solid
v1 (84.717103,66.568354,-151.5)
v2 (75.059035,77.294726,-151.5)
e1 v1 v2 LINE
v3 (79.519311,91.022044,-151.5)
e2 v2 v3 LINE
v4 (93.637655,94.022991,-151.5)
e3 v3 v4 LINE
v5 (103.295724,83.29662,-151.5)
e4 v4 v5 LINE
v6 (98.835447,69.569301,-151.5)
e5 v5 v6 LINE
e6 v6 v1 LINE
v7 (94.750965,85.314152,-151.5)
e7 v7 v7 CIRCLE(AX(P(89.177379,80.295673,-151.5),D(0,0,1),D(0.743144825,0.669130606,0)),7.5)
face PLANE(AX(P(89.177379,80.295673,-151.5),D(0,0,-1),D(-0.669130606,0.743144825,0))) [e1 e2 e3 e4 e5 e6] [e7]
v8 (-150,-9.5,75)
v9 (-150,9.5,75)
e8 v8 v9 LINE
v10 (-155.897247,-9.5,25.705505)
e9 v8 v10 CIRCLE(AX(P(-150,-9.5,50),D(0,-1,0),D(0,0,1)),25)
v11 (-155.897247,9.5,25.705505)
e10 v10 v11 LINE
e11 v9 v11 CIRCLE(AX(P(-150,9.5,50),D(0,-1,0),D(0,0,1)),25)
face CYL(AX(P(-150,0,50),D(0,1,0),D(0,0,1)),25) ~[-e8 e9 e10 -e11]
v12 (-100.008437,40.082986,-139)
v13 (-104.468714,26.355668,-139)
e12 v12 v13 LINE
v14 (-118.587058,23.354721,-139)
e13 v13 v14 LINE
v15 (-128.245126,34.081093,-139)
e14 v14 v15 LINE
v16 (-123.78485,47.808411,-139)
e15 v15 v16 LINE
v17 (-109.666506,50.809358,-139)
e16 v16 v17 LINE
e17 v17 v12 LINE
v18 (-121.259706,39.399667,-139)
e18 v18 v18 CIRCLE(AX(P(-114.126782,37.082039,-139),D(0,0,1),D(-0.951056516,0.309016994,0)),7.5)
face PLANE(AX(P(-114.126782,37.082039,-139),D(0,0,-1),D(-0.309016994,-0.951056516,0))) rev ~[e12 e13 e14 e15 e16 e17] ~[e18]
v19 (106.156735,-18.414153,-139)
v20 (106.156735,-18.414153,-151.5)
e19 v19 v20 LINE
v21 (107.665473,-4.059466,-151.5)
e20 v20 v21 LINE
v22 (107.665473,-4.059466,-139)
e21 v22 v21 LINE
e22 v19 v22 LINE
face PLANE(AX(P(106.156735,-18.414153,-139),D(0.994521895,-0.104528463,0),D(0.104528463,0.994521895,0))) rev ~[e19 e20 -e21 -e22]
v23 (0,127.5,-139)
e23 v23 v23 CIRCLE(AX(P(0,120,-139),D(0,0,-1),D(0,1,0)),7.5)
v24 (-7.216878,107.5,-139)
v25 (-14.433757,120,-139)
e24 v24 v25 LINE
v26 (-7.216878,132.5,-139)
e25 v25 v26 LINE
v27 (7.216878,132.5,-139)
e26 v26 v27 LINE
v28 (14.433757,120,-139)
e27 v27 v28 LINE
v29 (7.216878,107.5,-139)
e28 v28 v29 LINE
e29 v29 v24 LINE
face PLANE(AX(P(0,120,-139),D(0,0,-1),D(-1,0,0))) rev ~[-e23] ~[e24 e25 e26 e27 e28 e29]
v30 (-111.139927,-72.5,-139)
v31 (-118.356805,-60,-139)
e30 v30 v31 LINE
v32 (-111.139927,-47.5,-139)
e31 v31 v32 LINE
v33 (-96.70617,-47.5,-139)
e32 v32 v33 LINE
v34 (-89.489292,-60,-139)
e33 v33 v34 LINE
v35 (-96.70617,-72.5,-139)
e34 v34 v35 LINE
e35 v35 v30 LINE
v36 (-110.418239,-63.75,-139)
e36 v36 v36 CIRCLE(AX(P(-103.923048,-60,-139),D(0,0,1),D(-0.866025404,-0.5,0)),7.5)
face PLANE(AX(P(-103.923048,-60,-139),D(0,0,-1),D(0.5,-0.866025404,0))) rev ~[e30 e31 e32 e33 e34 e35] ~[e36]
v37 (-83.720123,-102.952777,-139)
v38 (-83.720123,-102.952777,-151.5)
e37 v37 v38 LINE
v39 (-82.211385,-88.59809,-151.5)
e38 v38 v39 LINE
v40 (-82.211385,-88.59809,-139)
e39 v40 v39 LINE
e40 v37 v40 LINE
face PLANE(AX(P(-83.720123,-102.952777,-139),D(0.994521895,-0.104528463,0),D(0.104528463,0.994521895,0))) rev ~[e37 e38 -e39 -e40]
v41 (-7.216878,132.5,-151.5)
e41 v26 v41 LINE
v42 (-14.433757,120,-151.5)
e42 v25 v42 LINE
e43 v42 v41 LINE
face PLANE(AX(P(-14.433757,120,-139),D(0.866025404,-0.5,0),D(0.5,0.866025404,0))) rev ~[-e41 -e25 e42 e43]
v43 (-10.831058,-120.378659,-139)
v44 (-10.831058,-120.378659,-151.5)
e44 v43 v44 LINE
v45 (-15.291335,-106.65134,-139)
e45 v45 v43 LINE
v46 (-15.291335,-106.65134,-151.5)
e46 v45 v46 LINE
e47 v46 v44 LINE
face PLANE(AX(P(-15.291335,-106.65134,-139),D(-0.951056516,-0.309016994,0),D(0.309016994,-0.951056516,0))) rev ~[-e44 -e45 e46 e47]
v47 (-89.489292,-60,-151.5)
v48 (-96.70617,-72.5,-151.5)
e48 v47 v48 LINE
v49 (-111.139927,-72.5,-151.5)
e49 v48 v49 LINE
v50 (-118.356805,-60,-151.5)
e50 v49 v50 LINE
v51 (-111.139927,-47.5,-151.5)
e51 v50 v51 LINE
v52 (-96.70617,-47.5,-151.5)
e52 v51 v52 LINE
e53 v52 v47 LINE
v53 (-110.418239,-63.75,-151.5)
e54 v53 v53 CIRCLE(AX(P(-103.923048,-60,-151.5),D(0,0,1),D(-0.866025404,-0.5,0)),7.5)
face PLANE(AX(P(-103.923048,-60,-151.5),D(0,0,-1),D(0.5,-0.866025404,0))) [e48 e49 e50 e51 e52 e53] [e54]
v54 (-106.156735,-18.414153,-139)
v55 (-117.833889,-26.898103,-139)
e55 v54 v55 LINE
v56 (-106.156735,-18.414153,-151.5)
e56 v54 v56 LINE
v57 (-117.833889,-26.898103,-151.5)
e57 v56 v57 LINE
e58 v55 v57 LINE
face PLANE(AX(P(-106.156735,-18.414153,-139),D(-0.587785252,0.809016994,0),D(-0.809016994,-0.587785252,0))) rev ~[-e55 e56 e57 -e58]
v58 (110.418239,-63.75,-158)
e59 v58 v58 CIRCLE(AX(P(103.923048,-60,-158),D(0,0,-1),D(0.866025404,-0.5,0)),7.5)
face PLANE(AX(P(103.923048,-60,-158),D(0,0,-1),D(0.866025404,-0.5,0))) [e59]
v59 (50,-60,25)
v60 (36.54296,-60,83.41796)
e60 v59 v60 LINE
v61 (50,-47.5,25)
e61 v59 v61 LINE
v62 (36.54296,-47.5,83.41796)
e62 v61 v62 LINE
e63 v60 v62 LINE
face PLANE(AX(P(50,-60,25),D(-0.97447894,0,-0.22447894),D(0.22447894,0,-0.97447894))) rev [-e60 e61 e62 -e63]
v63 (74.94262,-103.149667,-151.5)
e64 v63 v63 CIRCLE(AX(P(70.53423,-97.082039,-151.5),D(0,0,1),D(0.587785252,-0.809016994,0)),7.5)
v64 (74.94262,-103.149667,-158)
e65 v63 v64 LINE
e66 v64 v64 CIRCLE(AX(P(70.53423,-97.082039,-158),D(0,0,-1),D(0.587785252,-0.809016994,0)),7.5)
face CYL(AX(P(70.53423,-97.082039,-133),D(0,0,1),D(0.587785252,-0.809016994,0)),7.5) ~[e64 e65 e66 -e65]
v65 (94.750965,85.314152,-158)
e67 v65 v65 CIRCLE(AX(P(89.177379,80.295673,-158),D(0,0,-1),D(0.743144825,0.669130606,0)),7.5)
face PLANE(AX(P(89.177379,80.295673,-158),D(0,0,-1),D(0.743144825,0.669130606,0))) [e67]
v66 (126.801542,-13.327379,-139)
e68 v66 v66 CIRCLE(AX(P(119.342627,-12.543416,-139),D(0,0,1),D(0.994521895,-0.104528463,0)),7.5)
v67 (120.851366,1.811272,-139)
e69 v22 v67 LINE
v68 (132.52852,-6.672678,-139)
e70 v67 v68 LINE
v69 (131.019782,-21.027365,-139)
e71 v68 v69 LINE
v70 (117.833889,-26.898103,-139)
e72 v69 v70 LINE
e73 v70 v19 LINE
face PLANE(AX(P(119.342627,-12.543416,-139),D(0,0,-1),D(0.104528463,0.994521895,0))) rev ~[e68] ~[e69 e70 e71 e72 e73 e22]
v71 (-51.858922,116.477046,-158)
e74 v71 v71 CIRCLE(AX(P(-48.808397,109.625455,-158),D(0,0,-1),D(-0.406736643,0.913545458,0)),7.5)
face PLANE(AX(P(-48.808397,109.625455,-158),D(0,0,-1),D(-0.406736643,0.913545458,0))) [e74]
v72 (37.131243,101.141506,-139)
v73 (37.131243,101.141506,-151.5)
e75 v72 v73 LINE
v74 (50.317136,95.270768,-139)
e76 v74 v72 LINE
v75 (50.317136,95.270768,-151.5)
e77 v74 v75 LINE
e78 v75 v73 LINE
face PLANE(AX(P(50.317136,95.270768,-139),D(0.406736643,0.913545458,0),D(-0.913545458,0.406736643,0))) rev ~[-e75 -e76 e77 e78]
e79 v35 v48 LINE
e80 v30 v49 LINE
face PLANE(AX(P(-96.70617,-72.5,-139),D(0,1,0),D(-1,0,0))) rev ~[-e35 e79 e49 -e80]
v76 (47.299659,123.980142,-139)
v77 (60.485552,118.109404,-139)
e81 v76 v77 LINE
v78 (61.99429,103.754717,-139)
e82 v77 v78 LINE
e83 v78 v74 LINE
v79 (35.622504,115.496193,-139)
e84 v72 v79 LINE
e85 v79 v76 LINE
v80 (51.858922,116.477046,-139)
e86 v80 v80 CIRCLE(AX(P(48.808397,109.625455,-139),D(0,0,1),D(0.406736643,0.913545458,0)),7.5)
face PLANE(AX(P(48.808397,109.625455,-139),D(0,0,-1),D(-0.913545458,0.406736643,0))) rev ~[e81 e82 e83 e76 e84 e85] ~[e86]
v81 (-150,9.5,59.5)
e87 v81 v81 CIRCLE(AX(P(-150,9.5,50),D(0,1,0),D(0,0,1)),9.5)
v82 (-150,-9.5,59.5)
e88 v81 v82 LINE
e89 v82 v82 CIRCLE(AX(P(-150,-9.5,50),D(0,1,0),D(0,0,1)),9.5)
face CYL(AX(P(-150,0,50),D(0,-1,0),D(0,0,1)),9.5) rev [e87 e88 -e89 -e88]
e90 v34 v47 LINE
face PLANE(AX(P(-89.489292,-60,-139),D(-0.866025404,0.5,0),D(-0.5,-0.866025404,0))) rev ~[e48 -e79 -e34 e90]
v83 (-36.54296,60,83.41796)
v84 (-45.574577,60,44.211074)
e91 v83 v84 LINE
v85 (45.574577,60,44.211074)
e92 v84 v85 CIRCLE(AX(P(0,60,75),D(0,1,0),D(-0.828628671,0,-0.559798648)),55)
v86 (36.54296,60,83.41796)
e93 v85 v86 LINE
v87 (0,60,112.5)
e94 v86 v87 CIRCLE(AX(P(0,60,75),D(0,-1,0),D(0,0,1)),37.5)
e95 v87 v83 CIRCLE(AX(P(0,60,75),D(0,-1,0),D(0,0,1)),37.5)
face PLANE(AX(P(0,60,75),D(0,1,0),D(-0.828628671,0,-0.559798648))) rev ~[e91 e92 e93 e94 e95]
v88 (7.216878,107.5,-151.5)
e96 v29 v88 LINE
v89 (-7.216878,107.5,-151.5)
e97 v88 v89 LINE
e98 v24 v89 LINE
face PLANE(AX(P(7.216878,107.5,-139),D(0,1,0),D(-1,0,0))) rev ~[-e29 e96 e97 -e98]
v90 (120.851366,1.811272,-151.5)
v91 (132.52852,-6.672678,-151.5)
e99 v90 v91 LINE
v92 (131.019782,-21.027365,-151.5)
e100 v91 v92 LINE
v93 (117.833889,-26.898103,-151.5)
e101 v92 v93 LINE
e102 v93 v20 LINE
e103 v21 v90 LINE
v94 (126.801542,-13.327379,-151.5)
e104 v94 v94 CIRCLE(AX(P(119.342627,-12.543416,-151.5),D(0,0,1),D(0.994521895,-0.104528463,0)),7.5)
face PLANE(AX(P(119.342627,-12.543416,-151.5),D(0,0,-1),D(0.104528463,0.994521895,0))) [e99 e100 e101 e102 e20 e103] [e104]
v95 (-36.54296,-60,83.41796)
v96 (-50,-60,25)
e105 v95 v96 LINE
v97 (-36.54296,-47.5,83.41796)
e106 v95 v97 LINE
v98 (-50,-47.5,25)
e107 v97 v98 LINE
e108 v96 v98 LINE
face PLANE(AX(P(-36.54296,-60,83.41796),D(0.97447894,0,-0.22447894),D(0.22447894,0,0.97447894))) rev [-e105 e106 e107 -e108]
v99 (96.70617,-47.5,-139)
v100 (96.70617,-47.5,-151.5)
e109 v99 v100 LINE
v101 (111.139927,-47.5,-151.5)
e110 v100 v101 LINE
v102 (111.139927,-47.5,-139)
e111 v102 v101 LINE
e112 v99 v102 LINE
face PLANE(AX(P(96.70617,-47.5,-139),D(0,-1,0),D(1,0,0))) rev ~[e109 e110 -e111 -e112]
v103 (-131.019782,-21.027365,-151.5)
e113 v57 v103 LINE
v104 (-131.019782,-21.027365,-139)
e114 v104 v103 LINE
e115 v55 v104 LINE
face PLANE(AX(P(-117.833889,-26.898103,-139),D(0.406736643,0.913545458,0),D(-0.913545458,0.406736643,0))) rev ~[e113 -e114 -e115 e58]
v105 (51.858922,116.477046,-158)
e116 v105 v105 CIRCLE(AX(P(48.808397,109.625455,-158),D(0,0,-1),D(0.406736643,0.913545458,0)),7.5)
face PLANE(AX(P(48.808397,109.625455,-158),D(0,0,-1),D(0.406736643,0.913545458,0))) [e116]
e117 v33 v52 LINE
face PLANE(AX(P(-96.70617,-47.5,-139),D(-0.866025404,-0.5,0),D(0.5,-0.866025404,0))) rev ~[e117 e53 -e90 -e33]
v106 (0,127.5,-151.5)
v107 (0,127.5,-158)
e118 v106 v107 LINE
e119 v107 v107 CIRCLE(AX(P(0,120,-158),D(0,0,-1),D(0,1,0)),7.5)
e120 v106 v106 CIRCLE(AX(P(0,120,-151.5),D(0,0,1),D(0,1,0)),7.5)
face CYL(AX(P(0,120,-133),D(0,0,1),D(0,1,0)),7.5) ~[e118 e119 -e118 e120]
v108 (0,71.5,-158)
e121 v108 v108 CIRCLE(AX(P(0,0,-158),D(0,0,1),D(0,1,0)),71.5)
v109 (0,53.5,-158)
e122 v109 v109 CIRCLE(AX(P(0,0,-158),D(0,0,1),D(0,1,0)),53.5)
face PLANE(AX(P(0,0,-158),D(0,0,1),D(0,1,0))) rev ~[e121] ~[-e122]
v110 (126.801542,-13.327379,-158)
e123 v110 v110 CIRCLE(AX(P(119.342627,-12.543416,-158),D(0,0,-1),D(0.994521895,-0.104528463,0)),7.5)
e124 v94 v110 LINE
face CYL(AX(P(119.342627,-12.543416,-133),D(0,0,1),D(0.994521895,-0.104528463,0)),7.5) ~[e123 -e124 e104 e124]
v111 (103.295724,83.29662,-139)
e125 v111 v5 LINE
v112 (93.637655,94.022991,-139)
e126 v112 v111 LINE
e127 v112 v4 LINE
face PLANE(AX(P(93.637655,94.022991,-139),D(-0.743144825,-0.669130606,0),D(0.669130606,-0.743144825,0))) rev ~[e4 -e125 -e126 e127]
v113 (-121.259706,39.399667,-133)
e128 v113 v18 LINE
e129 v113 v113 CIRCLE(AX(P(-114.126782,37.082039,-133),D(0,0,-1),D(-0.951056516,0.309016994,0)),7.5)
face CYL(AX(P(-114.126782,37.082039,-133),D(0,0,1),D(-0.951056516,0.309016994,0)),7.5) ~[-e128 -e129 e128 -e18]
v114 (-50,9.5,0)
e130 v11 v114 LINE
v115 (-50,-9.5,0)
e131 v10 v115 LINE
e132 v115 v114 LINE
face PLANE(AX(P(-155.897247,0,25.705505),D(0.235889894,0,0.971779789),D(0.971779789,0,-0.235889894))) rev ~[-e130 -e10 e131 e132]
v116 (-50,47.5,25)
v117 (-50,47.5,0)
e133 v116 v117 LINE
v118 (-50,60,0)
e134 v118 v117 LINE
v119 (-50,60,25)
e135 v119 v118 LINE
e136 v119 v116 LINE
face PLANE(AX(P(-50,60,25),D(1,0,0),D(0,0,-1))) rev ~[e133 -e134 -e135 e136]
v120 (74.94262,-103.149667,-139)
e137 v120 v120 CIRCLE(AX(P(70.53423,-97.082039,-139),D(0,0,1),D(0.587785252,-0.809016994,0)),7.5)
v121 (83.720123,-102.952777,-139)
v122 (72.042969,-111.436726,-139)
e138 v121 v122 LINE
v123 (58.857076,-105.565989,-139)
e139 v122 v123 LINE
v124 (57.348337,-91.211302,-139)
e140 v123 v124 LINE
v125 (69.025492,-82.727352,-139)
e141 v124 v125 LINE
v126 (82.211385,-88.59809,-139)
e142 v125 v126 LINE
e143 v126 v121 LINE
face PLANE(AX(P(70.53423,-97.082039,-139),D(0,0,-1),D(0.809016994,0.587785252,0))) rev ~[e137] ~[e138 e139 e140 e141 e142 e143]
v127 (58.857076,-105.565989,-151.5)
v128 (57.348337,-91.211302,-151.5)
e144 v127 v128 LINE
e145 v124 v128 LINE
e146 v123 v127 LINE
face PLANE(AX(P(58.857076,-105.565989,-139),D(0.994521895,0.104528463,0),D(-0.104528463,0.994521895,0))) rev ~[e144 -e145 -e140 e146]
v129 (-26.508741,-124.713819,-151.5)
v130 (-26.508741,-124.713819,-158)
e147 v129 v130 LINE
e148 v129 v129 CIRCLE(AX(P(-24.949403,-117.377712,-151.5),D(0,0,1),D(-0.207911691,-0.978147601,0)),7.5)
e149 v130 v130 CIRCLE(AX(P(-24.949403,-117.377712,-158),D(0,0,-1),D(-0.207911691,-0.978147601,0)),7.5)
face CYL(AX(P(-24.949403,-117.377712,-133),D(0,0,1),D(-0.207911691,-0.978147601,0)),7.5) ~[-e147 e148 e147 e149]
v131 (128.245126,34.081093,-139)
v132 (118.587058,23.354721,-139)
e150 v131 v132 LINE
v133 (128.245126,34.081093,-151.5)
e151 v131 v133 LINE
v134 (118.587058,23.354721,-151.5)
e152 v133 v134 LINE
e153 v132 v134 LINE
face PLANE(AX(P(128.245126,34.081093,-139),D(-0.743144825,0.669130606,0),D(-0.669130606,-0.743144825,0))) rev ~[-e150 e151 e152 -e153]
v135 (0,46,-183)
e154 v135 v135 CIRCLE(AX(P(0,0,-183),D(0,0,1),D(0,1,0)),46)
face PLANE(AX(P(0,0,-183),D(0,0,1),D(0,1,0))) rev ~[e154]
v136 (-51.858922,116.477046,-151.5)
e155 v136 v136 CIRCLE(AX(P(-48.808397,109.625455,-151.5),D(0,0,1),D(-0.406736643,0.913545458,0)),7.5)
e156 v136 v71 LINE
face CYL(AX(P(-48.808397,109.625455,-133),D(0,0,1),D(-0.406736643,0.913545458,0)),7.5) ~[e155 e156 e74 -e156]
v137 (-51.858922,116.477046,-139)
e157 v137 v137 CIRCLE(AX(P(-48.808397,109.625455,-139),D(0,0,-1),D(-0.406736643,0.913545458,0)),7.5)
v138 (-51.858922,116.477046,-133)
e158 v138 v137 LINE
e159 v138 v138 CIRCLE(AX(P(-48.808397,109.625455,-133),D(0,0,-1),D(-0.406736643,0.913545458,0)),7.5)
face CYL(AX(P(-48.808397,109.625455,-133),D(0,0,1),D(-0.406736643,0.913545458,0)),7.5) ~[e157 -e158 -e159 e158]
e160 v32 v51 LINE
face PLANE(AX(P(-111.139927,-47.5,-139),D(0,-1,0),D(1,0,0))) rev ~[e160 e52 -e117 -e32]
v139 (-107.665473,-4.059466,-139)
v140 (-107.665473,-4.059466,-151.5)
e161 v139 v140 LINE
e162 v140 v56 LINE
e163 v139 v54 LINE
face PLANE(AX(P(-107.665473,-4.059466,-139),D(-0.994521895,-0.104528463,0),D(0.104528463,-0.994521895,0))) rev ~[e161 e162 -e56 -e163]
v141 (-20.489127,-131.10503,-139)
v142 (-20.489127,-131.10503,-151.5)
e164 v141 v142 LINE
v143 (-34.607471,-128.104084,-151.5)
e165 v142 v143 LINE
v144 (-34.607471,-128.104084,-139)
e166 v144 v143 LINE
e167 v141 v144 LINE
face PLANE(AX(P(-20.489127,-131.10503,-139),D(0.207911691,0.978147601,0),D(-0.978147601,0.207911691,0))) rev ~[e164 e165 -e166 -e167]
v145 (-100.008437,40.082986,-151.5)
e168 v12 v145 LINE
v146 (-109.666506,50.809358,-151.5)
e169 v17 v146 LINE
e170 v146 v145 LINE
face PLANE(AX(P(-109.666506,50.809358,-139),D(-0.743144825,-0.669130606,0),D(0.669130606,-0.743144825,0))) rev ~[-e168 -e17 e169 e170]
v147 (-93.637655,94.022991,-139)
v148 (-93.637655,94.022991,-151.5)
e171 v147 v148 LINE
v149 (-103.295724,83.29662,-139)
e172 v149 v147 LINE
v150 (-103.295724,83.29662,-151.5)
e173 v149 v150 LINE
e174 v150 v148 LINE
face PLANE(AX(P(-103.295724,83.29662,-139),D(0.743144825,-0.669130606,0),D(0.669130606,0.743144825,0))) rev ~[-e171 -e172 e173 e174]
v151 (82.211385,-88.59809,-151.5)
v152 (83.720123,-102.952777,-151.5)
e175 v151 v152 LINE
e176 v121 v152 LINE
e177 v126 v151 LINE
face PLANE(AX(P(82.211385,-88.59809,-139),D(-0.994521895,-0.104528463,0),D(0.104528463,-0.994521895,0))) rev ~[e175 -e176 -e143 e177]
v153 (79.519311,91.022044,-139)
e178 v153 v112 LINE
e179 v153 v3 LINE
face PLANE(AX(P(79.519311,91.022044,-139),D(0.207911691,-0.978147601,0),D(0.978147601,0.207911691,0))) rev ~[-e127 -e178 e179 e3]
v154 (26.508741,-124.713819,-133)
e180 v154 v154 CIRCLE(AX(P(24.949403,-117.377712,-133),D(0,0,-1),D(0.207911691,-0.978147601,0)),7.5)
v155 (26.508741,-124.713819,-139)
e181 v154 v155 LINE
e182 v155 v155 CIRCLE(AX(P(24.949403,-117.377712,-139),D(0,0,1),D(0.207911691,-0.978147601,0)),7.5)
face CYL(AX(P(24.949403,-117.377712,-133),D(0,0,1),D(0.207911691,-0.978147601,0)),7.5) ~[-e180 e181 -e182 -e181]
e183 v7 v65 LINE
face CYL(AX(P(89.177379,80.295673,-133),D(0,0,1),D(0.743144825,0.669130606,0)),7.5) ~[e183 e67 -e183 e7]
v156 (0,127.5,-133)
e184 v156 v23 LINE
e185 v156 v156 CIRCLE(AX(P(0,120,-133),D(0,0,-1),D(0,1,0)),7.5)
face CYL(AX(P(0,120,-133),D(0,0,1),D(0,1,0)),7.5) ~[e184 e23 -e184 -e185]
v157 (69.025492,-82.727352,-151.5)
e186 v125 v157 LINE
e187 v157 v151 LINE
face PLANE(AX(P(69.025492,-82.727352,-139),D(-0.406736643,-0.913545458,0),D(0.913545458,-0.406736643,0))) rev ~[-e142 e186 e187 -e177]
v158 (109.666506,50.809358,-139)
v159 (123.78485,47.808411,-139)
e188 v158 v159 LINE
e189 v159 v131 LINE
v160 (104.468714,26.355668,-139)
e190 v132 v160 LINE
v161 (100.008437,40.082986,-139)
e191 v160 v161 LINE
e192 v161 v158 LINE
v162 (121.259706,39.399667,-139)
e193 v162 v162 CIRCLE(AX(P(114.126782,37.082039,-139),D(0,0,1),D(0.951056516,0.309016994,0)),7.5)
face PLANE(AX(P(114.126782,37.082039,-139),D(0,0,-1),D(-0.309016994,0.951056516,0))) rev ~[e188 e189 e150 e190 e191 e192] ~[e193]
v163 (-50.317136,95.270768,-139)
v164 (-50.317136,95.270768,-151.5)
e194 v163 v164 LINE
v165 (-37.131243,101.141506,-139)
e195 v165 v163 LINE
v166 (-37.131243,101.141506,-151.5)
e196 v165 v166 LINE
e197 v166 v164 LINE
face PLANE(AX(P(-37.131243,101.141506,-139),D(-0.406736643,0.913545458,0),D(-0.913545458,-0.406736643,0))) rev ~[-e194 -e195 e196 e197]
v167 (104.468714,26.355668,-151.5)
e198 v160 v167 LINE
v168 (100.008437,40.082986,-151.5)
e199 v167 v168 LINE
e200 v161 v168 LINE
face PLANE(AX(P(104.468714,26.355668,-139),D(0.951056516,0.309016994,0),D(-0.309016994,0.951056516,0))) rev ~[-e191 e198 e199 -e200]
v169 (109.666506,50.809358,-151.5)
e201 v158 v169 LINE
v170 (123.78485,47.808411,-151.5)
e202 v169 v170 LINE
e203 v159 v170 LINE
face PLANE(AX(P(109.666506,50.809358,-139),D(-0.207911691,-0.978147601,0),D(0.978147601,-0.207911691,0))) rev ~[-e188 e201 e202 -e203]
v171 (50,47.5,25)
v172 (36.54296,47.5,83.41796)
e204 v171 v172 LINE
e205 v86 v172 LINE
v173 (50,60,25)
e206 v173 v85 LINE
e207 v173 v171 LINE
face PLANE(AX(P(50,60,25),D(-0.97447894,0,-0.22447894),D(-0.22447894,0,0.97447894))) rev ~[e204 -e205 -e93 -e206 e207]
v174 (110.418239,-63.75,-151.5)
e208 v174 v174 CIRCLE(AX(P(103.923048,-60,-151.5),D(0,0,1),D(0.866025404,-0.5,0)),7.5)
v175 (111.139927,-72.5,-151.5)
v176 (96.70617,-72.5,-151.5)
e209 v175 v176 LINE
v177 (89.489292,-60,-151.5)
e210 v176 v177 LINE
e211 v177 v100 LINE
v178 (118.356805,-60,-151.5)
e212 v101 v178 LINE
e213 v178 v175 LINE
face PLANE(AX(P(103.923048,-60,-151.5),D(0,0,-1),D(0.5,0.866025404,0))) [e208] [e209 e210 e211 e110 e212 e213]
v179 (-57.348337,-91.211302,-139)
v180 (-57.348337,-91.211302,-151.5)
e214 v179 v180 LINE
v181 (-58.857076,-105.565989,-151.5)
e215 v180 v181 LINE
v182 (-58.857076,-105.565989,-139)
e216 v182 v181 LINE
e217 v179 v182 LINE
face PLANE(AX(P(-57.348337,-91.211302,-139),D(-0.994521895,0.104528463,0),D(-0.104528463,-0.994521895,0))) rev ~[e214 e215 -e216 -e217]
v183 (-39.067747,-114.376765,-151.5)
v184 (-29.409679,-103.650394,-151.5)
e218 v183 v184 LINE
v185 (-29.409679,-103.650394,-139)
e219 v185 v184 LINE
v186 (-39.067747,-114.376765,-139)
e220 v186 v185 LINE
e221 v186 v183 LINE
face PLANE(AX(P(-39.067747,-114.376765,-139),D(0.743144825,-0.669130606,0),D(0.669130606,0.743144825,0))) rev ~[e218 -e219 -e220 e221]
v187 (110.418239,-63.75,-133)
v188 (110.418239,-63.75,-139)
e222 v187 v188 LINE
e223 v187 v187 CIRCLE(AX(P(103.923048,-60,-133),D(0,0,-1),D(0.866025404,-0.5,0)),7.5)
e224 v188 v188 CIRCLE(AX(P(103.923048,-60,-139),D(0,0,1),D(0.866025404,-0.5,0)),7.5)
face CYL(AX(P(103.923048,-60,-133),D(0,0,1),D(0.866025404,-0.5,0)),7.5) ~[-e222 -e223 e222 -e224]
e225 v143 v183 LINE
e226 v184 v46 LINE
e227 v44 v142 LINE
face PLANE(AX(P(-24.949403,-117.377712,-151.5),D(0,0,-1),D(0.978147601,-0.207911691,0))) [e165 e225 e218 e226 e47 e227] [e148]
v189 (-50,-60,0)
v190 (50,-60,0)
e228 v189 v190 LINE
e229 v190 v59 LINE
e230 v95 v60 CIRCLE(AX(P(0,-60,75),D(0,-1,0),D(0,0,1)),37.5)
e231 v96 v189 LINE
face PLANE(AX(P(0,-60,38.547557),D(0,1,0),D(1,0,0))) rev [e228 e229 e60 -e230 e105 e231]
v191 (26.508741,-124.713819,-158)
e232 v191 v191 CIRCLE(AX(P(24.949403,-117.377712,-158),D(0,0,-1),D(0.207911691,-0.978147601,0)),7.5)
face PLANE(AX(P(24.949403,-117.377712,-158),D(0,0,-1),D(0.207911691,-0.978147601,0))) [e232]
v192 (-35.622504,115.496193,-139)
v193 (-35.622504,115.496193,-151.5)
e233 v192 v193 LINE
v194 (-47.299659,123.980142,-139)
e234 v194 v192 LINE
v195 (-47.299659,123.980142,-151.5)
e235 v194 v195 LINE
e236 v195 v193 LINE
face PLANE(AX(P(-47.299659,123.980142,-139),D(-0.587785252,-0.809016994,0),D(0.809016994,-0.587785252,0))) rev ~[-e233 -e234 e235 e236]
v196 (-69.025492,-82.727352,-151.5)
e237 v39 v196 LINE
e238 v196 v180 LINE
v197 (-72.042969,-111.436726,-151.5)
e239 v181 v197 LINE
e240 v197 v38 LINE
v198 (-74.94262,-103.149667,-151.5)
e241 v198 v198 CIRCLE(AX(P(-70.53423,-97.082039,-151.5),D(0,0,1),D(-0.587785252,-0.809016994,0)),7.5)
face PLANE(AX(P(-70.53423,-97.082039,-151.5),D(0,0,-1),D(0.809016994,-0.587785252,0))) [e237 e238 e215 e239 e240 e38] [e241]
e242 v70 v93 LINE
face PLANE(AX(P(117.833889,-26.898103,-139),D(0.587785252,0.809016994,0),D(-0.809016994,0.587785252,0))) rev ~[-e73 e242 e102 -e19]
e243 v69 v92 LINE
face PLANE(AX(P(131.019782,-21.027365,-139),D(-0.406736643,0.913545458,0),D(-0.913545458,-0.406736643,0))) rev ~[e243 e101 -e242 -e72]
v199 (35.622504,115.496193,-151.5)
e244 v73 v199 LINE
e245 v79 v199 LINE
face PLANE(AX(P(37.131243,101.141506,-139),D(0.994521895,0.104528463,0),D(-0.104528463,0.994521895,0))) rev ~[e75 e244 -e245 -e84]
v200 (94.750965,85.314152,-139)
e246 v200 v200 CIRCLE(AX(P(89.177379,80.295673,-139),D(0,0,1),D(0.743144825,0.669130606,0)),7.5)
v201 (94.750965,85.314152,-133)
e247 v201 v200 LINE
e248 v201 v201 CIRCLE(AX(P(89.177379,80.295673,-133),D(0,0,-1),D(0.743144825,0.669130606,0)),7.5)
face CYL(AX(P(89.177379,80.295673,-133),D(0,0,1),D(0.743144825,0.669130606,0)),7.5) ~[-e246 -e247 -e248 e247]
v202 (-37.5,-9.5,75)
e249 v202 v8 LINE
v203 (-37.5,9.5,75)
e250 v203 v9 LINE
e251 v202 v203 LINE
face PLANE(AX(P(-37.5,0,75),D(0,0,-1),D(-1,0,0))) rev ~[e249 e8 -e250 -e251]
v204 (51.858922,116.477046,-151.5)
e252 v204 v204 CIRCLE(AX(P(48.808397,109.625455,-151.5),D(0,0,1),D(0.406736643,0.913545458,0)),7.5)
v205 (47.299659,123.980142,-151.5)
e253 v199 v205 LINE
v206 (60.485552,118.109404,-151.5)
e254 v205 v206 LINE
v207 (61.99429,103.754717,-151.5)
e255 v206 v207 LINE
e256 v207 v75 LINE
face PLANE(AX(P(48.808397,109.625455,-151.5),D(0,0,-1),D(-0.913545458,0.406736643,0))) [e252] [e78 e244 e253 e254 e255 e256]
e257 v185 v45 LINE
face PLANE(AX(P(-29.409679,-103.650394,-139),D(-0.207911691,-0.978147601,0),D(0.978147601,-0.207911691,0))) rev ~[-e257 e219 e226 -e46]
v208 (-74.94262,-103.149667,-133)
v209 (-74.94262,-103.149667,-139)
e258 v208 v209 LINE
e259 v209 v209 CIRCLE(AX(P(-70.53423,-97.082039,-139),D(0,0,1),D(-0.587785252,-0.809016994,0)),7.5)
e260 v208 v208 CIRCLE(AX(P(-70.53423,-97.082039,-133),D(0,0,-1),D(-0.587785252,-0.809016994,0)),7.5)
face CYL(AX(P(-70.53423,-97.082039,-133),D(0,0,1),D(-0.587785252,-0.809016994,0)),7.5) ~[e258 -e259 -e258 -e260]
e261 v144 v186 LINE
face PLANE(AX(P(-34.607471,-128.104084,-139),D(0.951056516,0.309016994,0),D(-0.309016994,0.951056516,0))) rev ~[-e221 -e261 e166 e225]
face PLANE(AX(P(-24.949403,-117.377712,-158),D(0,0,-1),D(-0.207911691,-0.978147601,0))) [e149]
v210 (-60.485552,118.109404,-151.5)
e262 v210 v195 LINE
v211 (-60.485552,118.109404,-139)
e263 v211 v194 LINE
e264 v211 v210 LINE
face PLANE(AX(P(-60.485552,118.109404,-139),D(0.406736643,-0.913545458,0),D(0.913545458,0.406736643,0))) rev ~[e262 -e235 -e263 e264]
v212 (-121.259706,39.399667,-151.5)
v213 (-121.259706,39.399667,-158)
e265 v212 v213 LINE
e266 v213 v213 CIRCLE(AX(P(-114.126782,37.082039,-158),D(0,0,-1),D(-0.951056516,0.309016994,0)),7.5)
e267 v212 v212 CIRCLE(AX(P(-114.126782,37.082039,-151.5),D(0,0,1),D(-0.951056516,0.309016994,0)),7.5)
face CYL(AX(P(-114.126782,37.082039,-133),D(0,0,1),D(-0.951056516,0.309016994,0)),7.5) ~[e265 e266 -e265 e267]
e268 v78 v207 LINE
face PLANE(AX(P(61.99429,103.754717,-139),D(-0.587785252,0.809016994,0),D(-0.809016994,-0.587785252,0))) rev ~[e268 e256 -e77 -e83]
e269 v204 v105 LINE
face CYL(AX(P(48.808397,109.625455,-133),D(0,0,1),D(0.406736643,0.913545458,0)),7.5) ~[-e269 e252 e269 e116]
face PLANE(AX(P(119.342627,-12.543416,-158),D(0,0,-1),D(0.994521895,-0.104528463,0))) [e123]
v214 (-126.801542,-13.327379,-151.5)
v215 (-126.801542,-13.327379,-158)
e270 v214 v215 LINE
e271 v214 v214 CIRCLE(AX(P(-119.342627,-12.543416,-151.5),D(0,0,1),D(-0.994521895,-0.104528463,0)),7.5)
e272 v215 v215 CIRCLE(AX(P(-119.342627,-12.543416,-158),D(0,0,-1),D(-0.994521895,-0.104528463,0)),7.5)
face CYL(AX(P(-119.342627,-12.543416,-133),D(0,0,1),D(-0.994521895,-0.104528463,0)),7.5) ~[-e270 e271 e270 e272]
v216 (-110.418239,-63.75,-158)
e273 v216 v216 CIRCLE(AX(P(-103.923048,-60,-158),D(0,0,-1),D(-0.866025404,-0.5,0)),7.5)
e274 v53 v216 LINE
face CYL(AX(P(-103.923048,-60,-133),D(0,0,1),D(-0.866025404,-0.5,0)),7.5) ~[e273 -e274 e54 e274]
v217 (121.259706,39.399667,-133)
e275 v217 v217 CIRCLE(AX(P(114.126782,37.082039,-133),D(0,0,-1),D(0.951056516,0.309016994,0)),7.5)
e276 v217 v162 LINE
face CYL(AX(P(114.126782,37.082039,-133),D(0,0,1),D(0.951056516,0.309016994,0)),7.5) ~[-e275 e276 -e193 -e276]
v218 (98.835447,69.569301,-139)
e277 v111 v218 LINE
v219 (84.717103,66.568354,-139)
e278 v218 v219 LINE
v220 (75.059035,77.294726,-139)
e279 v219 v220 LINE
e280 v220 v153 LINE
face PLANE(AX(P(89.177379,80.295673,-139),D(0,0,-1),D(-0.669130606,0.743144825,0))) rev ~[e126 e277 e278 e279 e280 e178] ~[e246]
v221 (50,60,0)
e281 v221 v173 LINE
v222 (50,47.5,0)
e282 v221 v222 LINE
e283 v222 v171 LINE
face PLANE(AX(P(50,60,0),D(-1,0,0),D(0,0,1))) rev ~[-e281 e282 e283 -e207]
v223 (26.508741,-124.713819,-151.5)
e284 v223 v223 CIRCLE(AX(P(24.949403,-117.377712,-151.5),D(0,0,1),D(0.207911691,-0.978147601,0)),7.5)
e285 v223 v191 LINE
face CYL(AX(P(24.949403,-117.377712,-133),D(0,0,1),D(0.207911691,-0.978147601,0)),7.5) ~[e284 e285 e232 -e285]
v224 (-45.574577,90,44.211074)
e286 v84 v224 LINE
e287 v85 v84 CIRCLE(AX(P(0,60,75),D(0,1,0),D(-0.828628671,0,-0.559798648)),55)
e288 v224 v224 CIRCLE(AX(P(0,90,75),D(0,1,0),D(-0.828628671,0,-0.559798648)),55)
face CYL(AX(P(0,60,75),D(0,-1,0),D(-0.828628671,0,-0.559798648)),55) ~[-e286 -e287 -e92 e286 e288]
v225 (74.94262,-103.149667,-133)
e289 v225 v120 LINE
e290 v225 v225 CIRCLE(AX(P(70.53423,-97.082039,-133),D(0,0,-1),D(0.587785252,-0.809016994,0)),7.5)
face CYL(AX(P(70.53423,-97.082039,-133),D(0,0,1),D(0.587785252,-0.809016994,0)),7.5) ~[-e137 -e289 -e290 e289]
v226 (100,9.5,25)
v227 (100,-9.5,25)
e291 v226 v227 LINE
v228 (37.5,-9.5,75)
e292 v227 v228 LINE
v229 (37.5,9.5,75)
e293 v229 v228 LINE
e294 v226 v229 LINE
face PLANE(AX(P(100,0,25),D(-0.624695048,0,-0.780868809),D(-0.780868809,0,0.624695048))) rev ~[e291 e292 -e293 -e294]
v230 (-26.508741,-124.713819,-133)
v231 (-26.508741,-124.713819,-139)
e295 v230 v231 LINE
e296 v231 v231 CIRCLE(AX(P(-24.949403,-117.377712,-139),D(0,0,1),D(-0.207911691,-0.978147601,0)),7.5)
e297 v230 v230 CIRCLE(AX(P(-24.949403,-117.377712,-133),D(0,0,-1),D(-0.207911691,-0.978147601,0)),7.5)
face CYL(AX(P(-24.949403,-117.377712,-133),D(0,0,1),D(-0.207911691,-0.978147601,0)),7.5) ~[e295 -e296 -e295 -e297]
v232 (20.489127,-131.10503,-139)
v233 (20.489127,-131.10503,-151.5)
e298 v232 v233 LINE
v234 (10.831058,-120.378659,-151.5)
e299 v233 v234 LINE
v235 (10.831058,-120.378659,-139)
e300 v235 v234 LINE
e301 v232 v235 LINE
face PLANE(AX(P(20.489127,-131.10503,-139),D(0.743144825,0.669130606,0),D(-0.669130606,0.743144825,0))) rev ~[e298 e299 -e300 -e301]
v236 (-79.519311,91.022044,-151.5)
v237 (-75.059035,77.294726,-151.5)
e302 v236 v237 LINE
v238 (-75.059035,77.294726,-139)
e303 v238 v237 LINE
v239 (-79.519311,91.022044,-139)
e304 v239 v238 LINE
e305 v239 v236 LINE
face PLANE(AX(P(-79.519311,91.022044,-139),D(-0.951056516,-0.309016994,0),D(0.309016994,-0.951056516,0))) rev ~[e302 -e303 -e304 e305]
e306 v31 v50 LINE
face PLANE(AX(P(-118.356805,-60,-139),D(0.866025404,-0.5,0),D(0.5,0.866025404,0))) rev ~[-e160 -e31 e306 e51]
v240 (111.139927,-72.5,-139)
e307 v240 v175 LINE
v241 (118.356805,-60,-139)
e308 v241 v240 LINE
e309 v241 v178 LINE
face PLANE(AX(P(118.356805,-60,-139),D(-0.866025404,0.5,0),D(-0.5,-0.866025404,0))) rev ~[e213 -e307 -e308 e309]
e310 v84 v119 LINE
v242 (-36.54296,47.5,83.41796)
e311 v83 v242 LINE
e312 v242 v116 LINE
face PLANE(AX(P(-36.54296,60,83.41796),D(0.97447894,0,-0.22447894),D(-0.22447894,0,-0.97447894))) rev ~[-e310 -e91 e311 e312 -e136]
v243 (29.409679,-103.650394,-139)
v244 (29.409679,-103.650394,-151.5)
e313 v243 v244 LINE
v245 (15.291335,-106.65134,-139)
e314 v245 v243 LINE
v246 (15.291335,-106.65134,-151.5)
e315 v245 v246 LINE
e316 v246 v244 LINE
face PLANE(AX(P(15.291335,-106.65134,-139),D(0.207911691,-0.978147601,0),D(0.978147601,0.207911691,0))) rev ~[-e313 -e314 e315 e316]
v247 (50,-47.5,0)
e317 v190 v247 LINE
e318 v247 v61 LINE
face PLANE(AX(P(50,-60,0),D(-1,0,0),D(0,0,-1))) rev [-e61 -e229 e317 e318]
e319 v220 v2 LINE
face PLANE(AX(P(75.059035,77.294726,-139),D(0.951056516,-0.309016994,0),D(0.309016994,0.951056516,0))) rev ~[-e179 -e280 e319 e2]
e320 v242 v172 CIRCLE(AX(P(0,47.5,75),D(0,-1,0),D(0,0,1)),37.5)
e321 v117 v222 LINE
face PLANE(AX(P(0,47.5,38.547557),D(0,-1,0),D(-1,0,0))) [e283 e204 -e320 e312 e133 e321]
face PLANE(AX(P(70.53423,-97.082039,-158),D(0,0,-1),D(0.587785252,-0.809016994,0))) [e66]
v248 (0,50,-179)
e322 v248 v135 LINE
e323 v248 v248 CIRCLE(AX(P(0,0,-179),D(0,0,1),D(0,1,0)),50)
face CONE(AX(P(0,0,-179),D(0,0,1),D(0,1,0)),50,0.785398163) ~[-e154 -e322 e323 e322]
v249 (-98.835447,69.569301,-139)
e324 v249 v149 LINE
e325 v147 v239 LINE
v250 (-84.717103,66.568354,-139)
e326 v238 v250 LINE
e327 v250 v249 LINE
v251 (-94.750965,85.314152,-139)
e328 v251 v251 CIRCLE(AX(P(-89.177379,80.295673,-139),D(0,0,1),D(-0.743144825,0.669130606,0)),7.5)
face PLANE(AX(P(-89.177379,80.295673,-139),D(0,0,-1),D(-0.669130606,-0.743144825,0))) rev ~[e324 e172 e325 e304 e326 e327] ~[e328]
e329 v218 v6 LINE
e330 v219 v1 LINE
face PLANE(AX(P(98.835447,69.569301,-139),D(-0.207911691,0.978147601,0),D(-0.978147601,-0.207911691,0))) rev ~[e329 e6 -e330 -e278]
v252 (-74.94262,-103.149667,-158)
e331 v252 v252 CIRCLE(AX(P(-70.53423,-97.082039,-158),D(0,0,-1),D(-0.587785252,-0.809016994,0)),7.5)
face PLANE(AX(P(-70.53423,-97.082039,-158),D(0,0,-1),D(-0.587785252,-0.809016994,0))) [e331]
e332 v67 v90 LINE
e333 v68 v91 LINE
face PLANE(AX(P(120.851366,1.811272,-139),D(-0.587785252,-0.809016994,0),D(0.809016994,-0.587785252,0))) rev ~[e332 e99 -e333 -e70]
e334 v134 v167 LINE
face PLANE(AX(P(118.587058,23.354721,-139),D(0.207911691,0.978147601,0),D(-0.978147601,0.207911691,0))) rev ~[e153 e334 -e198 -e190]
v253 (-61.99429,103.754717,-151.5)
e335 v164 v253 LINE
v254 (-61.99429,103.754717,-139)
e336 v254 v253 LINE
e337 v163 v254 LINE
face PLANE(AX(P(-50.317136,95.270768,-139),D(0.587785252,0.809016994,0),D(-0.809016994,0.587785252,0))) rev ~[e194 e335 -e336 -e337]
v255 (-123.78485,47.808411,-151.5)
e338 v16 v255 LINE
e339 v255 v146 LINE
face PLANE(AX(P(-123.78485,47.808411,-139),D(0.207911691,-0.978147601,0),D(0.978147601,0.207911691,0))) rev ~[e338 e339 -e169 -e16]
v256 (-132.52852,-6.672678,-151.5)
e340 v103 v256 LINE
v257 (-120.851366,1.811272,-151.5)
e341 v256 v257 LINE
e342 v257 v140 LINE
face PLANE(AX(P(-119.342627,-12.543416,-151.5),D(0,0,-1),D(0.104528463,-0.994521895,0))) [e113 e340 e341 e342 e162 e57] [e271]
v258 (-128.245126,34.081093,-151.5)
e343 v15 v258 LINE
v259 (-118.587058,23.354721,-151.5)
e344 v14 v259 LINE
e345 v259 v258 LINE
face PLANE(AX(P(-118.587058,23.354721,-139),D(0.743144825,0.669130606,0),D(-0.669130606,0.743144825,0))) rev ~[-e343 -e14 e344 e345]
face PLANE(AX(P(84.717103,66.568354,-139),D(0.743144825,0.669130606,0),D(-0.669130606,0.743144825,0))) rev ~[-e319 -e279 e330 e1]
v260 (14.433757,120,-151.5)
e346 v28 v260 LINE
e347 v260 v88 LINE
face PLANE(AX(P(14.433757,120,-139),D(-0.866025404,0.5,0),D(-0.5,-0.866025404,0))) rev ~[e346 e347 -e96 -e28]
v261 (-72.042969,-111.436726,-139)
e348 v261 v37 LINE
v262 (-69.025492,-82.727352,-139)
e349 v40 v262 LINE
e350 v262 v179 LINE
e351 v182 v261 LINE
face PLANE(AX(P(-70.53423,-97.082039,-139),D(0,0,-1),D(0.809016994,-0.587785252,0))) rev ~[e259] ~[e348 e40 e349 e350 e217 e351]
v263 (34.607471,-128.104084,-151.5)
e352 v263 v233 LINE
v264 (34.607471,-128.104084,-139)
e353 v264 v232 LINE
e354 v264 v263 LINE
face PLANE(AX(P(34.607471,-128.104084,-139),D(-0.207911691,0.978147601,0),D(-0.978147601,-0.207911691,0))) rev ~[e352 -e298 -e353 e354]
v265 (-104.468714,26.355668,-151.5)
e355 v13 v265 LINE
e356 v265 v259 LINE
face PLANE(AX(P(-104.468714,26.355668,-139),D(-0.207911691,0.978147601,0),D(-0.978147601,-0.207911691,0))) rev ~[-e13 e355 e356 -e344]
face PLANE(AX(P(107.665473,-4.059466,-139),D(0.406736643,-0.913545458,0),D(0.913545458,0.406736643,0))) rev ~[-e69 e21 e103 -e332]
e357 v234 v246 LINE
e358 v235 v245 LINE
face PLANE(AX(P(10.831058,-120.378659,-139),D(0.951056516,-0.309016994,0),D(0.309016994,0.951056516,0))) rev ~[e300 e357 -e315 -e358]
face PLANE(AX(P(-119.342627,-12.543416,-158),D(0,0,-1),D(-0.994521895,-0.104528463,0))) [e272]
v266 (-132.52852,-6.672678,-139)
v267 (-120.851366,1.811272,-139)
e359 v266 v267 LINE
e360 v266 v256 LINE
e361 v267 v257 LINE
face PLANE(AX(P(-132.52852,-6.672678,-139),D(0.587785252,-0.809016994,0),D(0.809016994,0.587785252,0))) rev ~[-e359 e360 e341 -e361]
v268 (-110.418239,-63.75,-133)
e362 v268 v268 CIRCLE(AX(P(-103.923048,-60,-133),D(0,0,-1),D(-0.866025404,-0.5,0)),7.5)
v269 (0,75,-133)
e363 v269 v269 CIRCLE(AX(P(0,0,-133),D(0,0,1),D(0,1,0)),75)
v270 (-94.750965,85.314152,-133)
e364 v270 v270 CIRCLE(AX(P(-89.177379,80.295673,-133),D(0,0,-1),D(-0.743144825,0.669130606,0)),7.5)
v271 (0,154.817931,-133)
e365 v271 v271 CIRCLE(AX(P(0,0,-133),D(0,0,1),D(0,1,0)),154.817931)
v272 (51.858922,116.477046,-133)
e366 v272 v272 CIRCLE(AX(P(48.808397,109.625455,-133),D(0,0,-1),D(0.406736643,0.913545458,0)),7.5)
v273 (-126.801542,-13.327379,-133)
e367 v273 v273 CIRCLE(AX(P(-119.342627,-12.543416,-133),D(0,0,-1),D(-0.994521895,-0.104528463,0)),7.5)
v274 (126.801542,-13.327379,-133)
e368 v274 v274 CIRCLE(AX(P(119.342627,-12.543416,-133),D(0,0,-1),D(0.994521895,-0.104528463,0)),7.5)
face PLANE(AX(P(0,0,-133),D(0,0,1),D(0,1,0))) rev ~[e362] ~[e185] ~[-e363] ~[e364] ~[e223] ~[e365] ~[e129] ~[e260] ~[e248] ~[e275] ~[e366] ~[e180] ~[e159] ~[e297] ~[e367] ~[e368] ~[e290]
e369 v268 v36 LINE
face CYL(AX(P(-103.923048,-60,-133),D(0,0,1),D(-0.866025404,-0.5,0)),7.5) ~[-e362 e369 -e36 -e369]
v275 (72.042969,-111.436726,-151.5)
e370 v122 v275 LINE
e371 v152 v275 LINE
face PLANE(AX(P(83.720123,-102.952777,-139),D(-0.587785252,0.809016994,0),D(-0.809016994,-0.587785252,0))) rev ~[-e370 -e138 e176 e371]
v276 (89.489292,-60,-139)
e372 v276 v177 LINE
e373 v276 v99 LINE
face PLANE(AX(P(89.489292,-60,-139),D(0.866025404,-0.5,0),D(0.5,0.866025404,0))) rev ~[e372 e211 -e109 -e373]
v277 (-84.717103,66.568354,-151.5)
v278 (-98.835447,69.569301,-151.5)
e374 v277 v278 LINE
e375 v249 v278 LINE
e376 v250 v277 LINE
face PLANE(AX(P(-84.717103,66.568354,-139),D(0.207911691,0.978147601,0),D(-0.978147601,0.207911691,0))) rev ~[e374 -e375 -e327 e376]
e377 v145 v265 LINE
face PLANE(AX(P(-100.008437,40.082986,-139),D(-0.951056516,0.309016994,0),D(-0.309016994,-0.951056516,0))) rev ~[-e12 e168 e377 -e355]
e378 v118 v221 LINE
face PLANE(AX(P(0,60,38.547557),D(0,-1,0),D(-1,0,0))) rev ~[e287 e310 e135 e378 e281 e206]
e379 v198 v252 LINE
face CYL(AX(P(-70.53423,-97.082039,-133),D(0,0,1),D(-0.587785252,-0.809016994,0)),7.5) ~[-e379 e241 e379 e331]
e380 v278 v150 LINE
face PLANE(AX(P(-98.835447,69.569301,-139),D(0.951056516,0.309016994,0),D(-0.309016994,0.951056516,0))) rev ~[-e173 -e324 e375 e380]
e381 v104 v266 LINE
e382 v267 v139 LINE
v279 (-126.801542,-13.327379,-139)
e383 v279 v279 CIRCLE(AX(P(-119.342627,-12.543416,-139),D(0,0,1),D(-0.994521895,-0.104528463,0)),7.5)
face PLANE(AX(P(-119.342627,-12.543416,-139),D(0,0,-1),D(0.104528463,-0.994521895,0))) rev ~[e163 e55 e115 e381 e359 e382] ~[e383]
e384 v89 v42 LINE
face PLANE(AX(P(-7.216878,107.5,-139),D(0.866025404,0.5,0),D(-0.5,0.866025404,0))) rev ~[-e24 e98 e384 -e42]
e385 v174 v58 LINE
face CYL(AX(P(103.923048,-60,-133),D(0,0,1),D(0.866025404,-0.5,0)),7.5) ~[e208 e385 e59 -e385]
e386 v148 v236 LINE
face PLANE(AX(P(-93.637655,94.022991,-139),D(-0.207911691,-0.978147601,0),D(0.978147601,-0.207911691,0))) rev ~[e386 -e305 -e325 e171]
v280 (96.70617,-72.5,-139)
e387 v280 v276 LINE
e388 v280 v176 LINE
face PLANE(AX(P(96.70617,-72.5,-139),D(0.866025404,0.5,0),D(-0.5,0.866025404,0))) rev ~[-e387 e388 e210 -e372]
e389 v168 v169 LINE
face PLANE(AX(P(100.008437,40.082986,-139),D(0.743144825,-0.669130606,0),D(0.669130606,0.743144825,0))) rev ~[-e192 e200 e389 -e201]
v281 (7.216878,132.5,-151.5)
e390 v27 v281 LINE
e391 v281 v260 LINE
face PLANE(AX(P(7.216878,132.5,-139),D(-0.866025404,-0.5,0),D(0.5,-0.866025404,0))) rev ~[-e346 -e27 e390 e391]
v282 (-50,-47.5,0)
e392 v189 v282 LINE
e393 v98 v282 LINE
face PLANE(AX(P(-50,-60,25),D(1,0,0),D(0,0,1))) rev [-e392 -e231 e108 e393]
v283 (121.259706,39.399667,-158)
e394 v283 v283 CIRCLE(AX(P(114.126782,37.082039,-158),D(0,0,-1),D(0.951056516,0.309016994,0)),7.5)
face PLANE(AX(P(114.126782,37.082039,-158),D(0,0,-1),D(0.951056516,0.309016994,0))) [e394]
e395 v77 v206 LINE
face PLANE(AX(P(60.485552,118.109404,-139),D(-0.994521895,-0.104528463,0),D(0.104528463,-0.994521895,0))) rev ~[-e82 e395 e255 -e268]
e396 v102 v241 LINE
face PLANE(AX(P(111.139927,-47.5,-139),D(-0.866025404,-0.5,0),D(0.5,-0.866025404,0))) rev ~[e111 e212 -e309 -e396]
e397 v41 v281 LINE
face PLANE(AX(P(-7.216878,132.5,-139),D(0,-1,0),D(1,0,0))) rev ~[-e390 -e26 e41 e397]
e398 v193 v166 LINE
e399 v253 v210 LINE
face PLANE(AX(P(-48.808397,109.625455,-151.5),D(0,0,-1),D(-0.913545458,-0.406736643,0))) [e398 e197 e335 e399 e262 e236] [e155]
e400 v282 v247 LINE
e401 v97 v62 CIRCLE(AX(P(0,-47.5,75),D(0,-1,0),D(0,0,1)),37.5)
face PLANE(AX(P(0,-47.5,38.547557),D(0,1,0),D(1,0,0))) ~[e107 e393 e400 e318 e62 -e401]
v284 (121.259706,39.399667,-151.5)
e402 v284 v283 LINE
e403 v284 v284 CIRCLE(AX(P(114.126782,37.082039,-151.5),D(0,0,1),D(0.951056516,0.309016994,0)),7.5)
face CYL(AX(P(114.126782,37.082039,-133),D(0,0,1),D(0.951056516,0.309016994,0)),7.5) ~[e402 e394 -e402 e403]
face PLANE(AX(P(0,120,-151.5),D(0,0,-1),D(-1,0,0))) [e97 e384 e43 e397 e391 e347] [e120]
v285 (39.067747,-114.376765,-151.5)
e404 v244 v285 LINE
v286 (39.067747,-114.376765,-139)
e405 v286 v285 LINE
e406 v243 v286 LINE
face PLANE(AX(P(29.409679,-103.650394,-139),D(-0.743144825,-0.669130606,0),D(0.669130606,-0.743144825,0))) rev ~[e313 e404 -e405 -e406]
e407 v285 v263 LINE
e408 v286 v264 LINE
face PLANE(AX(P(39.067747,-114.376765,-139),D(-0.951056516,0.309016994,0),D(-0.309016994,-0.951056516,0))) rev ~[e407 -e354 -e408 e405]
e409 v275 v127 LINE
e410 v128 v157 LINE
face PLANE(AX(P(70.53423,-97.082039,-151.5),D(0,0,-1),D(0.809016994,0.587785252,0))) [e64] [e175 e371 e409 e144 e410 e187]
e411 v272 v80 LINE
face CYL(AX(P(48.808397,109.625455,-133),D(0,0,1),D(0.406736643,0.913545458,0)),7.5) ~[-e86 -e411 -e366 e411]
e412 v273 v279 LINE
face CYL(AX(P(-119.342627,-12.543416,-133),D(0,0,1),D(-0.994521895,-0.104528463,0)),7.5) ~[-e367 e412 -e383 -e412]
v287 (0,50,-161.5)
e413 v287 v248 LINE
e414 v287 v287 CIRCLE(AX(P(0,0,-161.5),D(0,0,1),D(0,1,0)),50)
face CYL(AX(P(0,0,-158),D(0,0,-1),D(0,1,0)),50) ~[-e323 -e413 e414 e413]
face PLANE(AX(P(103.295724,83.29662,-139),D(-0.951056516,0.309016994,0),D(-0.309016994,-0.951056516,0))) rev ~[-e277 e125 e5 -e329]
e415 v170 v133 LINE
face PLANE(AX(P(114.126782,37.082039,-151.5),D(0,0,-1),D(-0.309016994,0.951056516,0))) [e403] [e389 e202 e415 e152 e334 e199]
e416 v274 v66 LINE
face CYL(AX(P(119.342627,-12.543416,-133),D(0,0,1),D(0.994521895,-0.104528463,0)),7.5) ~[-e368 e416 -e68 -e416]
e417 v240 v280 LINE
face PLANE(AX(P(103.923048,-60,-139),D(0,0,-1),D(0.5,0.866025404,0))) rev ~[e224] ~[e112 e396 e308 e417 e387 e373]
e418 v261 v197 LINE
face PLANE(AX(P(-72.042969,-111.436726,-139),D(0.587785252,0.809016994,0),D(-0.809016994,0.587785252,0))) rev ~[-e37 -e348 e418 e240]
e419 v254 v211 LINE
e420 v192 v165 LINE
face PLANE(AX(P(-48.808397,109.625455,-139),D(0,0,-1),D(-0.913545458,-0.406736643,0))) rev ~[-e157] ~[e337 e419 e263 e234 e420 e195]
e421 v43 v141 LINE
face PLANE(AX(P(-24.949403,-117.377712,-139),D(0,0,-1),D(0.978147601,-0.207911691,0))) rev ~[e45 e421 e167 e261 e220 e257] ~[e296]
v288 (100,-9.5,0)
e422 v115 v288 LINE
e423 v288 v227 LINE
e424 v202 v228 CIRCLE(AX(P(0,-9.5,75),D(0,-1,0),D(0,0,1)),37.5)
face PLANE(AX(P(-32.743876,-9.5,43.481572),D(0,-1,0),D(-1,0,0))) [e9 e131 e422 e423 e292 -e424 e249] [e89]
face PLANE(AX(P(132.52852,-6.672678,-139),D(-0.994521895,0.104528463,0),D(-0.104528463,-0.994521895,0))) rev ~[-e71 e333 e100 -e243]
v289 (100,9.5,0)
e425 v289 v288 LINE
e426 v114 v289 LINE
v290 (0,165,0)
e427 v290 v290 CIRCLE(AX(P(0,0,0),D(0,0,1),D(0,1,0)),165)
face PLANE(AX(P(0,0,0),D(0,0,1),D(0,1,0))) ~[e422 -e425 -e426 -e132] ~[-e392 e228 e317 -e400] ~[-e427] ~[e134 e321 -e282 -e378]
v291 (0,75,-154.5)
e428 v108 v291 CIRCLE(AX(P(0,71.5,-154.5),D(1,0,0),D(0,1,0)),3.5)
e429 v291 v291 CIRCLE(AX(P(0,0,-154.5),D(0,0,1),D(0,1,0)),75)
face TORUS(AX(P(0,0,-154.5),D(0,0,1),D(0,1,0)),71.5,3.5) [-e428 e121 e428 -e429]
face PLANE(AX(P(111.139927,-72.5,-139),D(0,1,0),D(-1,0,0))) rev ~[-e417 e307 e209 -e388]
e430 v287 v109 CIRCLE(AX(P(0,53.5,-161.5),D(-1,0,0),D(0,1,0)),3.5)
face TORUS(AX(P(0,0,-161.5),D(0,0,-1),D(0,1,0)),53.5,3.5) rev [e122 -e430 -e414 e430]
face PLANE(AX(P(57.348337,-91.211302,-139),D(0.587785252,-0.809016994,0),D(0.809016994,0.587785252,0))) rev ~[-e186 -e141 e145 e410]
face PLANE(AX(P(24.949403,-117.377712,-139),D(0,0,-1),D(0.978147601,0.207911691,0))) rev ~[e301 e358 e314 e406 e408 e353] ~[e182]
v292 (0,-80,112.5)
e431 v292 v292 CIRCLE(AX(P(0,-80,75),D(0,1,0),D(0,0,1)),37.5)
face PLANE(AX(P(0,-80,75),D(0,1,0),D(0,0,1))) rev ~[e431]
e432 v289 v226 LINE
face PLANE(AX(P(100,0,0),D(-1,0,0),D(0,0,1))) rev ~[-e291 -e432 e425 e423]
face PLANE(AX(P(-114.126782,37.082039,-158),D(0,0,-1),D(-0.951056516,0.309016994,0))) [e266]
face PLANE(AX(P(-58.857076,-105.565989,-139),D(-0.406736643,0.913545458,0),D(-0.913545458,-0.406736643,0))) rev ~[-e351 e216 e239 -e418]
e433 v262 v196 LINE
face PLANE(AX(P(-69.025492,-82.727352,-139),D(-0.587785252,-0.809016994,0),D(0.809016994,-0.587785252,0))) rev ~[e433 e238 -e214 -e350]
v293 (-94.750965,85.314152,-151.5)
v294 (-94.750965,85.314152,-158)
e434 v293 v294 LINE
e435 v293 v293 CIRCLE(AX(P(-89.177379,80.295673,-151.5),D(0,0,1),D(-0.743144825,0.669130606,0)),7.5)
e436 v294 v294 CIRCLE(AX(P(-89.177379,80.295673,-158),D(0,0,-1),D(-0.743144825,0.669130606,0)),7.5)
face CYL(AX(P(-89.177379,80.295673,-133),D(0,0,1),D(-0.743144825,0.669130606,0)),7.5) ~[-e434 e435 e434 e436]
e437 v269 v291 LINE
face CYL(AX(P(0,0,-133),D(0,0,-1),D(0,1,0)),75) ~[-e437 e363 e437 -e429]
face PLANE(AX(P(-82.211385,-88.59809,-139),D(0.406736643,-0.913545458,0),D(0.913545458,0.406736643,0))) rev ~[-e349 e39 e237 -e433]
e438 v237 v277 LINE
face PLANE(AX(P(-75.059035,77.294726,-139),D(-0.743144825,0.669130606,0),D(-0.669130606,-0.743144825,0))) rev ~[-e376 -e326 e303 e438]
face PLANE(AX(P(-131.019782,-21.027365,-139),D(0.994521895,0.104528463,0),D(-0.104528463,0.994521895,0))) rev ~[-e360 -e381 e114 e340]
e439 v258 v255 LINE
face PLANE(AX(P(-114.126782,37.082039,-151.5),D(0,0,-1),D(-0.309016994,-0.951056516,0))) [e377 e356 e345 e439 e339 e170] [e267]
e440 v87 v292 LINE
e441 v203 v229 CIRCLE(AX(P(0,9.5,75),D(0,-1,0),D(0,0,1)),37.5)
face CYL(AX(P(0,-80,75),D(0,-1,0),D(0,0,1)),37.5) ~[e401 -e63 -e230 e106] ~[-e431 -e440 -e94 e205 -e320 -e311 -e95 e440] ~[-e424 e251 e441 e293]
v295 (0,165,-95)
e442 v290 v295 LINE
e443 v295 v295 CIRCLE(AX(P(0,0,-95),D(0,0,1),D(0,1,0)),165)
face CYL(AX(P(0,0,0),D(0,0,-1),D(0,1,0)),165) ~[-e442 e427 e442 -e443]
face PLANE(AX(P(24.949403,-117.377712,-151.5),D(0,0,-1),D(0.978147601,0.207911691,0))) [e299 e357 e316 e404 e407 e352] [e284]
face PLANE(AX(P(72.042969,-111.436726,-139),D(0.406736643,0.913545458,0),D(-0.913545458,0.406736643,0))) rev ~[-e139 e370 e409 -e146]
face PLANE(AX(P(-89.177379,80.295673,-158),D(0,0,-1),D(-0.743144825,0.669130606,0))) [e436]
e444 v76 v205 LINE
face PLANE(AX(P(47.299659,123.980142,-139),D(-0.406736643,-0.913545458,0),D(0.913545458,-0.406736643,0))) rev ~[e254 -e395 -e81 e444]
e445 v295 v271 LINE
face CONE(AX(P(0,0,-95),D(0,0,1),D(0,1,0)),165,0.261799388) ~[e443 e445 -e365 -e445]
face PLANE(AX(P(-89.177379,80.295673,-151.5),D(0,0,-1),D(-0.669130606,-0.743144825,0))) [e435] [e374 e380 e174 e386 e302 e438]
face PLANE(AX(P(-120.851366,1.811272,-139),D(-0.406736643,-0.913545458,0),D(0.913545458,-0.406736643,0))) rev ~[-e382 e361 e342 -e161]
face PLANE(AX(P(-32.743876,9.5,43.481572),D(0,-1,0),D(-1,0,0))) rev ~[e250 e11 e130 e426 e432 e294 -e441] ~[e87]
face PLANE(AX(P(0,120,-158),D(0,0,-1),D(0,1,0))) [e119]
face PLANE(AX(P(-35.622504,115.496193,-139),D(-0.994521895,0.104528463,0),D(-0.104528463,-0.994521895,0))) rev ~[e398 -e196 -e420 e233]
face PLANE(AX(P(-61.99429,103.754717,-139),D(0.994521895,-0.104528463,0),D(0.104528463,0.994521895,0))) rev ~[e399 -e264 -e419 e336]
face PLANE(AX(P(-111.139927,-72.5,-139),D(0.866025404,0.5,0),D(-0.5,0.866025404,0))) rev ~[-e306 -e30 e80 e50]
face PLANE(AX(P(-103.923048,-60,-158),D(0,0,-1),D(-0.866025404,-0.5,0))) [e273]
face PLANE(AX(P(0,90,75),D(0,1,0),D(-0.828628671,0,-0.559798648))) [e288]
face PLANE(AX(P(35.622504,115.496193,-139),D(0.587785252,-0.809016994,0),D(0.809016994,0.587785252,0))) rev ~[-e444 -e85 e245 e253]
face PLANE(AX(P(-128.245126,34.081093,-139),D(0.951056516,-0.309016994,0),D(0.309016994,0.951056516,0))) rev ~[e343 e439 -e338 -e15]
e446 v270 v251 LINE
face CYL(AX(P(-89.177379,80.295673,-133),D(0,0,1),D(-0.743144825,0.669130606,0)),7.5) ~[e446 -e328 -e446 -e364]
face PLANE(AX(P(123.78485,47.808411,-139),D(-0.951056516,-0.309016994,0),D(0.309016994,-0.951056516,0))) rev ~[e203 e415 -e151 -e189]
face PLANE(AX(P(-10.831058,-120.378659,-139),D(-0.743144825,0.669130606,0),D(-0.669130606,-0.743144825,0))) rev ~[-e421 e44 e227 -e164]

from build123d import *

# Parameters (mm, degrees)
CHAMFER1_SIZE            = 4
FILLET1_R                = 3.5
BOSS_EXTRUDE1_DEPTH      = 90
BOSS_EXTRUDE1_DEPTH_BACK = 80
SKETCH2_R                = 37.5
BOSS_EXTRUDE2_START      = 60
BOSS_EXTRUDE2_DEPTH      = 12.5
SKETCH4_R                = 9.5
BOSS_EXTRUDE3_DEPTH      = 9.5
SKETCH5_R                = 55
BOSS_EXTRUDE4_DEPTH      = 30
SKETCH6_R                = 7.5
BOSS_EXTRUDE5_DEPTH      = 25
BOSS_EXTRUDE6_START      = 6
SKETCH6_3_R              = 7.5
BOSS_EXTRUDE6_DEPTH      = 12.5
CIRPATTERN2_COUNT        = 15


with BuildPart() as part:
    # Sketch1 → Revolve1 (revolve)
    with BuildSketch(Plane(origin=(0, 0, 0), x_dir=(0, 0, -1), z_dir=(1, 0, 0))):
        Polygon((0, 0), (0, 165), (95, 165), (133, 154.817930688), (133, 75), (158, 75), (158, 50), (183, 50), (183, 0), align=None)
    revolve(axis=Axis((0, 0, -183), (0, 0, 1)))

    # Chamfer1
    chamfer1_edges = [part.edges().sort_by_distance(p)[0] for p in [
        (0, -50, -183),
    ]]
    chamfer(chamfer1_edges, length=CHAMFER1_SIZE)

    # Fillet1
    fillet1_edges = [part.edges().sort_by_distance(p)[0] for p in [
        (0, -50, -158),
        (0, -75, -158),
    ]]
    fillet(fillet1_edges, radius=FILLET1_R)



with BuildPart() as body_2:
    # Sketch2 → Boss-Extrude1 (new, two sides: drawn at the far end of the back side and taken through both)
    with BuildSketch(Plane(origin=(0, 0, 0), x_dir=(1, 0, 0), z_dir=(0, 1, 0)).offset(-BOSS_EXTRUDE1_DEPTH_BACK)):
        with Locations(Location((0, -75, 0), (0, 0, 270))):
            Circle(SKETCH2_R)
    extrude(amount=BOSS_EXTRUDE1_DEPTH + BOSS_EXTRUDE1_DEPTH_BACK)


with BuildPart() as part_1:
    add(part.part)

    add(body_2.part)  # Boss-Extrude2 merges body 2
    # Sketch3 → Boss-Extrude2 (add)
    with BuildSketch(Plane(origin=(0, 0, 0), x_dir=(1, 0, 0), z_dir=(0, 1, 0)).offset(BOSS_EXTRUDE2_START)):
        Polygon((-50, 0), (50, 0), (50, -25), (36.542960266, -83.417960266), (-36.542960266, -83.417960266), (-50, -25), align=None)
    boss_extrude2 = extrude(amount=-BOSS_EXTRUDE2_DEPTH)

    # Mirror1: Boss-Extrude2 across plane
    add(boss_extrude2.mirror(Plane.ZX))

    # Sketch4 → Boss-Extrude3 (add, symmetric)
    with BuildSketch(Plane(origin=(0, 0, 0), x_dir=(1, 0, 0), z_dir=(0, 1, 0))):
        with BuildLine():
            Line((-50, 0), (100, 0))
            Line((100, 0), (100, -25))
            Line((100, -25), (37.5, -75))
            ThreePointArc((37.5, -75), (0, -112.5), (-37.5, -75))
            Line((-37.5, -75), (-150, -75))
            ThreePointArc((-150, -75), (-174.822997079, -52.969649142), (-155.897247359, -25.705505282))
            Line((-155.897247359, -25.705505282), (-50, 0))
        make_face()
        with Locations(Location((-150, -50, 0), (0, 0, 270))):
            Circle(SKETCH4_R, mode=Mode.SUBTRACT)
    extrude(amount=BOSS_EXTRUDE3_DEPTH, both=True)

    # Sketch5 → Boss-Extrude4 (add)
    with BuildSketch(Plane(origin=(0, 60, 0), x_dir=(1, 0, 0), z_dir=(0, 1, 0))):
        with Locations(Location((0, -75, 0), (0, 0, 145.958125966))):
            Circle(SKETCH5_R)
    extrude(amount=BOSS_EXTRUDE4_DEPTH)

    # Sketch6 → Boss-Extrude5 (add)
    with BuildSketch(Plane(origin=(0, 0, -133), x_dir=(-1, 0, 0), z_dir=(0, 0, -1))):
        with Locations(Location((0, 120, 0), (0, 0, 90))):
            Circle(SKETCH6_R)
    boss_extrude5 = extrude(amount=BOSS_EXTRUDE5_DEPTH)

    # Sketch6<3> → Boss-Extrude6 (add)
    with BuildSketch(Plane(origin=(0, 0, -133), x_dir=(-1, 0, 0), z_dir=(0, 0, -1)).offset(BOSS_EXTRUDE6_START)):
        Polygon((7.216878365, 132.5), (-7.216878365, 132.5), (-14.43375673, 120), (-7.216878365, 107.5), (7.216878365, 107.5), (14.43375673, 120), align=None)
        with Locations((0, 120)):
            Circle(SKETCH6_3_R, mode=Mode.SUBTRACT)
    boss_extrude6 = extrude(amount=BOSS_EXTRUDE6_DEPTH)

    # CirPattern2: Boss-Extrude5, Boss-Extrude6 ×15 about axis
    cirpattern2_axis = Axis((0, 0, 0), (0, 0, 1))
    add([boss_extrude5.rotate(cirpattern2_axis, i * 360 / CIRPATTERN2_COUNT) for i in range(1, CIRPATTERN2_COUNT)])
    add([boss_extrude6.rotate(cirpattern2_axis, i * 360 / CIRPATTERN2_COUNT) for i in range(1, CIRPATTERN2_COUNT)])


solid = part_1.part
